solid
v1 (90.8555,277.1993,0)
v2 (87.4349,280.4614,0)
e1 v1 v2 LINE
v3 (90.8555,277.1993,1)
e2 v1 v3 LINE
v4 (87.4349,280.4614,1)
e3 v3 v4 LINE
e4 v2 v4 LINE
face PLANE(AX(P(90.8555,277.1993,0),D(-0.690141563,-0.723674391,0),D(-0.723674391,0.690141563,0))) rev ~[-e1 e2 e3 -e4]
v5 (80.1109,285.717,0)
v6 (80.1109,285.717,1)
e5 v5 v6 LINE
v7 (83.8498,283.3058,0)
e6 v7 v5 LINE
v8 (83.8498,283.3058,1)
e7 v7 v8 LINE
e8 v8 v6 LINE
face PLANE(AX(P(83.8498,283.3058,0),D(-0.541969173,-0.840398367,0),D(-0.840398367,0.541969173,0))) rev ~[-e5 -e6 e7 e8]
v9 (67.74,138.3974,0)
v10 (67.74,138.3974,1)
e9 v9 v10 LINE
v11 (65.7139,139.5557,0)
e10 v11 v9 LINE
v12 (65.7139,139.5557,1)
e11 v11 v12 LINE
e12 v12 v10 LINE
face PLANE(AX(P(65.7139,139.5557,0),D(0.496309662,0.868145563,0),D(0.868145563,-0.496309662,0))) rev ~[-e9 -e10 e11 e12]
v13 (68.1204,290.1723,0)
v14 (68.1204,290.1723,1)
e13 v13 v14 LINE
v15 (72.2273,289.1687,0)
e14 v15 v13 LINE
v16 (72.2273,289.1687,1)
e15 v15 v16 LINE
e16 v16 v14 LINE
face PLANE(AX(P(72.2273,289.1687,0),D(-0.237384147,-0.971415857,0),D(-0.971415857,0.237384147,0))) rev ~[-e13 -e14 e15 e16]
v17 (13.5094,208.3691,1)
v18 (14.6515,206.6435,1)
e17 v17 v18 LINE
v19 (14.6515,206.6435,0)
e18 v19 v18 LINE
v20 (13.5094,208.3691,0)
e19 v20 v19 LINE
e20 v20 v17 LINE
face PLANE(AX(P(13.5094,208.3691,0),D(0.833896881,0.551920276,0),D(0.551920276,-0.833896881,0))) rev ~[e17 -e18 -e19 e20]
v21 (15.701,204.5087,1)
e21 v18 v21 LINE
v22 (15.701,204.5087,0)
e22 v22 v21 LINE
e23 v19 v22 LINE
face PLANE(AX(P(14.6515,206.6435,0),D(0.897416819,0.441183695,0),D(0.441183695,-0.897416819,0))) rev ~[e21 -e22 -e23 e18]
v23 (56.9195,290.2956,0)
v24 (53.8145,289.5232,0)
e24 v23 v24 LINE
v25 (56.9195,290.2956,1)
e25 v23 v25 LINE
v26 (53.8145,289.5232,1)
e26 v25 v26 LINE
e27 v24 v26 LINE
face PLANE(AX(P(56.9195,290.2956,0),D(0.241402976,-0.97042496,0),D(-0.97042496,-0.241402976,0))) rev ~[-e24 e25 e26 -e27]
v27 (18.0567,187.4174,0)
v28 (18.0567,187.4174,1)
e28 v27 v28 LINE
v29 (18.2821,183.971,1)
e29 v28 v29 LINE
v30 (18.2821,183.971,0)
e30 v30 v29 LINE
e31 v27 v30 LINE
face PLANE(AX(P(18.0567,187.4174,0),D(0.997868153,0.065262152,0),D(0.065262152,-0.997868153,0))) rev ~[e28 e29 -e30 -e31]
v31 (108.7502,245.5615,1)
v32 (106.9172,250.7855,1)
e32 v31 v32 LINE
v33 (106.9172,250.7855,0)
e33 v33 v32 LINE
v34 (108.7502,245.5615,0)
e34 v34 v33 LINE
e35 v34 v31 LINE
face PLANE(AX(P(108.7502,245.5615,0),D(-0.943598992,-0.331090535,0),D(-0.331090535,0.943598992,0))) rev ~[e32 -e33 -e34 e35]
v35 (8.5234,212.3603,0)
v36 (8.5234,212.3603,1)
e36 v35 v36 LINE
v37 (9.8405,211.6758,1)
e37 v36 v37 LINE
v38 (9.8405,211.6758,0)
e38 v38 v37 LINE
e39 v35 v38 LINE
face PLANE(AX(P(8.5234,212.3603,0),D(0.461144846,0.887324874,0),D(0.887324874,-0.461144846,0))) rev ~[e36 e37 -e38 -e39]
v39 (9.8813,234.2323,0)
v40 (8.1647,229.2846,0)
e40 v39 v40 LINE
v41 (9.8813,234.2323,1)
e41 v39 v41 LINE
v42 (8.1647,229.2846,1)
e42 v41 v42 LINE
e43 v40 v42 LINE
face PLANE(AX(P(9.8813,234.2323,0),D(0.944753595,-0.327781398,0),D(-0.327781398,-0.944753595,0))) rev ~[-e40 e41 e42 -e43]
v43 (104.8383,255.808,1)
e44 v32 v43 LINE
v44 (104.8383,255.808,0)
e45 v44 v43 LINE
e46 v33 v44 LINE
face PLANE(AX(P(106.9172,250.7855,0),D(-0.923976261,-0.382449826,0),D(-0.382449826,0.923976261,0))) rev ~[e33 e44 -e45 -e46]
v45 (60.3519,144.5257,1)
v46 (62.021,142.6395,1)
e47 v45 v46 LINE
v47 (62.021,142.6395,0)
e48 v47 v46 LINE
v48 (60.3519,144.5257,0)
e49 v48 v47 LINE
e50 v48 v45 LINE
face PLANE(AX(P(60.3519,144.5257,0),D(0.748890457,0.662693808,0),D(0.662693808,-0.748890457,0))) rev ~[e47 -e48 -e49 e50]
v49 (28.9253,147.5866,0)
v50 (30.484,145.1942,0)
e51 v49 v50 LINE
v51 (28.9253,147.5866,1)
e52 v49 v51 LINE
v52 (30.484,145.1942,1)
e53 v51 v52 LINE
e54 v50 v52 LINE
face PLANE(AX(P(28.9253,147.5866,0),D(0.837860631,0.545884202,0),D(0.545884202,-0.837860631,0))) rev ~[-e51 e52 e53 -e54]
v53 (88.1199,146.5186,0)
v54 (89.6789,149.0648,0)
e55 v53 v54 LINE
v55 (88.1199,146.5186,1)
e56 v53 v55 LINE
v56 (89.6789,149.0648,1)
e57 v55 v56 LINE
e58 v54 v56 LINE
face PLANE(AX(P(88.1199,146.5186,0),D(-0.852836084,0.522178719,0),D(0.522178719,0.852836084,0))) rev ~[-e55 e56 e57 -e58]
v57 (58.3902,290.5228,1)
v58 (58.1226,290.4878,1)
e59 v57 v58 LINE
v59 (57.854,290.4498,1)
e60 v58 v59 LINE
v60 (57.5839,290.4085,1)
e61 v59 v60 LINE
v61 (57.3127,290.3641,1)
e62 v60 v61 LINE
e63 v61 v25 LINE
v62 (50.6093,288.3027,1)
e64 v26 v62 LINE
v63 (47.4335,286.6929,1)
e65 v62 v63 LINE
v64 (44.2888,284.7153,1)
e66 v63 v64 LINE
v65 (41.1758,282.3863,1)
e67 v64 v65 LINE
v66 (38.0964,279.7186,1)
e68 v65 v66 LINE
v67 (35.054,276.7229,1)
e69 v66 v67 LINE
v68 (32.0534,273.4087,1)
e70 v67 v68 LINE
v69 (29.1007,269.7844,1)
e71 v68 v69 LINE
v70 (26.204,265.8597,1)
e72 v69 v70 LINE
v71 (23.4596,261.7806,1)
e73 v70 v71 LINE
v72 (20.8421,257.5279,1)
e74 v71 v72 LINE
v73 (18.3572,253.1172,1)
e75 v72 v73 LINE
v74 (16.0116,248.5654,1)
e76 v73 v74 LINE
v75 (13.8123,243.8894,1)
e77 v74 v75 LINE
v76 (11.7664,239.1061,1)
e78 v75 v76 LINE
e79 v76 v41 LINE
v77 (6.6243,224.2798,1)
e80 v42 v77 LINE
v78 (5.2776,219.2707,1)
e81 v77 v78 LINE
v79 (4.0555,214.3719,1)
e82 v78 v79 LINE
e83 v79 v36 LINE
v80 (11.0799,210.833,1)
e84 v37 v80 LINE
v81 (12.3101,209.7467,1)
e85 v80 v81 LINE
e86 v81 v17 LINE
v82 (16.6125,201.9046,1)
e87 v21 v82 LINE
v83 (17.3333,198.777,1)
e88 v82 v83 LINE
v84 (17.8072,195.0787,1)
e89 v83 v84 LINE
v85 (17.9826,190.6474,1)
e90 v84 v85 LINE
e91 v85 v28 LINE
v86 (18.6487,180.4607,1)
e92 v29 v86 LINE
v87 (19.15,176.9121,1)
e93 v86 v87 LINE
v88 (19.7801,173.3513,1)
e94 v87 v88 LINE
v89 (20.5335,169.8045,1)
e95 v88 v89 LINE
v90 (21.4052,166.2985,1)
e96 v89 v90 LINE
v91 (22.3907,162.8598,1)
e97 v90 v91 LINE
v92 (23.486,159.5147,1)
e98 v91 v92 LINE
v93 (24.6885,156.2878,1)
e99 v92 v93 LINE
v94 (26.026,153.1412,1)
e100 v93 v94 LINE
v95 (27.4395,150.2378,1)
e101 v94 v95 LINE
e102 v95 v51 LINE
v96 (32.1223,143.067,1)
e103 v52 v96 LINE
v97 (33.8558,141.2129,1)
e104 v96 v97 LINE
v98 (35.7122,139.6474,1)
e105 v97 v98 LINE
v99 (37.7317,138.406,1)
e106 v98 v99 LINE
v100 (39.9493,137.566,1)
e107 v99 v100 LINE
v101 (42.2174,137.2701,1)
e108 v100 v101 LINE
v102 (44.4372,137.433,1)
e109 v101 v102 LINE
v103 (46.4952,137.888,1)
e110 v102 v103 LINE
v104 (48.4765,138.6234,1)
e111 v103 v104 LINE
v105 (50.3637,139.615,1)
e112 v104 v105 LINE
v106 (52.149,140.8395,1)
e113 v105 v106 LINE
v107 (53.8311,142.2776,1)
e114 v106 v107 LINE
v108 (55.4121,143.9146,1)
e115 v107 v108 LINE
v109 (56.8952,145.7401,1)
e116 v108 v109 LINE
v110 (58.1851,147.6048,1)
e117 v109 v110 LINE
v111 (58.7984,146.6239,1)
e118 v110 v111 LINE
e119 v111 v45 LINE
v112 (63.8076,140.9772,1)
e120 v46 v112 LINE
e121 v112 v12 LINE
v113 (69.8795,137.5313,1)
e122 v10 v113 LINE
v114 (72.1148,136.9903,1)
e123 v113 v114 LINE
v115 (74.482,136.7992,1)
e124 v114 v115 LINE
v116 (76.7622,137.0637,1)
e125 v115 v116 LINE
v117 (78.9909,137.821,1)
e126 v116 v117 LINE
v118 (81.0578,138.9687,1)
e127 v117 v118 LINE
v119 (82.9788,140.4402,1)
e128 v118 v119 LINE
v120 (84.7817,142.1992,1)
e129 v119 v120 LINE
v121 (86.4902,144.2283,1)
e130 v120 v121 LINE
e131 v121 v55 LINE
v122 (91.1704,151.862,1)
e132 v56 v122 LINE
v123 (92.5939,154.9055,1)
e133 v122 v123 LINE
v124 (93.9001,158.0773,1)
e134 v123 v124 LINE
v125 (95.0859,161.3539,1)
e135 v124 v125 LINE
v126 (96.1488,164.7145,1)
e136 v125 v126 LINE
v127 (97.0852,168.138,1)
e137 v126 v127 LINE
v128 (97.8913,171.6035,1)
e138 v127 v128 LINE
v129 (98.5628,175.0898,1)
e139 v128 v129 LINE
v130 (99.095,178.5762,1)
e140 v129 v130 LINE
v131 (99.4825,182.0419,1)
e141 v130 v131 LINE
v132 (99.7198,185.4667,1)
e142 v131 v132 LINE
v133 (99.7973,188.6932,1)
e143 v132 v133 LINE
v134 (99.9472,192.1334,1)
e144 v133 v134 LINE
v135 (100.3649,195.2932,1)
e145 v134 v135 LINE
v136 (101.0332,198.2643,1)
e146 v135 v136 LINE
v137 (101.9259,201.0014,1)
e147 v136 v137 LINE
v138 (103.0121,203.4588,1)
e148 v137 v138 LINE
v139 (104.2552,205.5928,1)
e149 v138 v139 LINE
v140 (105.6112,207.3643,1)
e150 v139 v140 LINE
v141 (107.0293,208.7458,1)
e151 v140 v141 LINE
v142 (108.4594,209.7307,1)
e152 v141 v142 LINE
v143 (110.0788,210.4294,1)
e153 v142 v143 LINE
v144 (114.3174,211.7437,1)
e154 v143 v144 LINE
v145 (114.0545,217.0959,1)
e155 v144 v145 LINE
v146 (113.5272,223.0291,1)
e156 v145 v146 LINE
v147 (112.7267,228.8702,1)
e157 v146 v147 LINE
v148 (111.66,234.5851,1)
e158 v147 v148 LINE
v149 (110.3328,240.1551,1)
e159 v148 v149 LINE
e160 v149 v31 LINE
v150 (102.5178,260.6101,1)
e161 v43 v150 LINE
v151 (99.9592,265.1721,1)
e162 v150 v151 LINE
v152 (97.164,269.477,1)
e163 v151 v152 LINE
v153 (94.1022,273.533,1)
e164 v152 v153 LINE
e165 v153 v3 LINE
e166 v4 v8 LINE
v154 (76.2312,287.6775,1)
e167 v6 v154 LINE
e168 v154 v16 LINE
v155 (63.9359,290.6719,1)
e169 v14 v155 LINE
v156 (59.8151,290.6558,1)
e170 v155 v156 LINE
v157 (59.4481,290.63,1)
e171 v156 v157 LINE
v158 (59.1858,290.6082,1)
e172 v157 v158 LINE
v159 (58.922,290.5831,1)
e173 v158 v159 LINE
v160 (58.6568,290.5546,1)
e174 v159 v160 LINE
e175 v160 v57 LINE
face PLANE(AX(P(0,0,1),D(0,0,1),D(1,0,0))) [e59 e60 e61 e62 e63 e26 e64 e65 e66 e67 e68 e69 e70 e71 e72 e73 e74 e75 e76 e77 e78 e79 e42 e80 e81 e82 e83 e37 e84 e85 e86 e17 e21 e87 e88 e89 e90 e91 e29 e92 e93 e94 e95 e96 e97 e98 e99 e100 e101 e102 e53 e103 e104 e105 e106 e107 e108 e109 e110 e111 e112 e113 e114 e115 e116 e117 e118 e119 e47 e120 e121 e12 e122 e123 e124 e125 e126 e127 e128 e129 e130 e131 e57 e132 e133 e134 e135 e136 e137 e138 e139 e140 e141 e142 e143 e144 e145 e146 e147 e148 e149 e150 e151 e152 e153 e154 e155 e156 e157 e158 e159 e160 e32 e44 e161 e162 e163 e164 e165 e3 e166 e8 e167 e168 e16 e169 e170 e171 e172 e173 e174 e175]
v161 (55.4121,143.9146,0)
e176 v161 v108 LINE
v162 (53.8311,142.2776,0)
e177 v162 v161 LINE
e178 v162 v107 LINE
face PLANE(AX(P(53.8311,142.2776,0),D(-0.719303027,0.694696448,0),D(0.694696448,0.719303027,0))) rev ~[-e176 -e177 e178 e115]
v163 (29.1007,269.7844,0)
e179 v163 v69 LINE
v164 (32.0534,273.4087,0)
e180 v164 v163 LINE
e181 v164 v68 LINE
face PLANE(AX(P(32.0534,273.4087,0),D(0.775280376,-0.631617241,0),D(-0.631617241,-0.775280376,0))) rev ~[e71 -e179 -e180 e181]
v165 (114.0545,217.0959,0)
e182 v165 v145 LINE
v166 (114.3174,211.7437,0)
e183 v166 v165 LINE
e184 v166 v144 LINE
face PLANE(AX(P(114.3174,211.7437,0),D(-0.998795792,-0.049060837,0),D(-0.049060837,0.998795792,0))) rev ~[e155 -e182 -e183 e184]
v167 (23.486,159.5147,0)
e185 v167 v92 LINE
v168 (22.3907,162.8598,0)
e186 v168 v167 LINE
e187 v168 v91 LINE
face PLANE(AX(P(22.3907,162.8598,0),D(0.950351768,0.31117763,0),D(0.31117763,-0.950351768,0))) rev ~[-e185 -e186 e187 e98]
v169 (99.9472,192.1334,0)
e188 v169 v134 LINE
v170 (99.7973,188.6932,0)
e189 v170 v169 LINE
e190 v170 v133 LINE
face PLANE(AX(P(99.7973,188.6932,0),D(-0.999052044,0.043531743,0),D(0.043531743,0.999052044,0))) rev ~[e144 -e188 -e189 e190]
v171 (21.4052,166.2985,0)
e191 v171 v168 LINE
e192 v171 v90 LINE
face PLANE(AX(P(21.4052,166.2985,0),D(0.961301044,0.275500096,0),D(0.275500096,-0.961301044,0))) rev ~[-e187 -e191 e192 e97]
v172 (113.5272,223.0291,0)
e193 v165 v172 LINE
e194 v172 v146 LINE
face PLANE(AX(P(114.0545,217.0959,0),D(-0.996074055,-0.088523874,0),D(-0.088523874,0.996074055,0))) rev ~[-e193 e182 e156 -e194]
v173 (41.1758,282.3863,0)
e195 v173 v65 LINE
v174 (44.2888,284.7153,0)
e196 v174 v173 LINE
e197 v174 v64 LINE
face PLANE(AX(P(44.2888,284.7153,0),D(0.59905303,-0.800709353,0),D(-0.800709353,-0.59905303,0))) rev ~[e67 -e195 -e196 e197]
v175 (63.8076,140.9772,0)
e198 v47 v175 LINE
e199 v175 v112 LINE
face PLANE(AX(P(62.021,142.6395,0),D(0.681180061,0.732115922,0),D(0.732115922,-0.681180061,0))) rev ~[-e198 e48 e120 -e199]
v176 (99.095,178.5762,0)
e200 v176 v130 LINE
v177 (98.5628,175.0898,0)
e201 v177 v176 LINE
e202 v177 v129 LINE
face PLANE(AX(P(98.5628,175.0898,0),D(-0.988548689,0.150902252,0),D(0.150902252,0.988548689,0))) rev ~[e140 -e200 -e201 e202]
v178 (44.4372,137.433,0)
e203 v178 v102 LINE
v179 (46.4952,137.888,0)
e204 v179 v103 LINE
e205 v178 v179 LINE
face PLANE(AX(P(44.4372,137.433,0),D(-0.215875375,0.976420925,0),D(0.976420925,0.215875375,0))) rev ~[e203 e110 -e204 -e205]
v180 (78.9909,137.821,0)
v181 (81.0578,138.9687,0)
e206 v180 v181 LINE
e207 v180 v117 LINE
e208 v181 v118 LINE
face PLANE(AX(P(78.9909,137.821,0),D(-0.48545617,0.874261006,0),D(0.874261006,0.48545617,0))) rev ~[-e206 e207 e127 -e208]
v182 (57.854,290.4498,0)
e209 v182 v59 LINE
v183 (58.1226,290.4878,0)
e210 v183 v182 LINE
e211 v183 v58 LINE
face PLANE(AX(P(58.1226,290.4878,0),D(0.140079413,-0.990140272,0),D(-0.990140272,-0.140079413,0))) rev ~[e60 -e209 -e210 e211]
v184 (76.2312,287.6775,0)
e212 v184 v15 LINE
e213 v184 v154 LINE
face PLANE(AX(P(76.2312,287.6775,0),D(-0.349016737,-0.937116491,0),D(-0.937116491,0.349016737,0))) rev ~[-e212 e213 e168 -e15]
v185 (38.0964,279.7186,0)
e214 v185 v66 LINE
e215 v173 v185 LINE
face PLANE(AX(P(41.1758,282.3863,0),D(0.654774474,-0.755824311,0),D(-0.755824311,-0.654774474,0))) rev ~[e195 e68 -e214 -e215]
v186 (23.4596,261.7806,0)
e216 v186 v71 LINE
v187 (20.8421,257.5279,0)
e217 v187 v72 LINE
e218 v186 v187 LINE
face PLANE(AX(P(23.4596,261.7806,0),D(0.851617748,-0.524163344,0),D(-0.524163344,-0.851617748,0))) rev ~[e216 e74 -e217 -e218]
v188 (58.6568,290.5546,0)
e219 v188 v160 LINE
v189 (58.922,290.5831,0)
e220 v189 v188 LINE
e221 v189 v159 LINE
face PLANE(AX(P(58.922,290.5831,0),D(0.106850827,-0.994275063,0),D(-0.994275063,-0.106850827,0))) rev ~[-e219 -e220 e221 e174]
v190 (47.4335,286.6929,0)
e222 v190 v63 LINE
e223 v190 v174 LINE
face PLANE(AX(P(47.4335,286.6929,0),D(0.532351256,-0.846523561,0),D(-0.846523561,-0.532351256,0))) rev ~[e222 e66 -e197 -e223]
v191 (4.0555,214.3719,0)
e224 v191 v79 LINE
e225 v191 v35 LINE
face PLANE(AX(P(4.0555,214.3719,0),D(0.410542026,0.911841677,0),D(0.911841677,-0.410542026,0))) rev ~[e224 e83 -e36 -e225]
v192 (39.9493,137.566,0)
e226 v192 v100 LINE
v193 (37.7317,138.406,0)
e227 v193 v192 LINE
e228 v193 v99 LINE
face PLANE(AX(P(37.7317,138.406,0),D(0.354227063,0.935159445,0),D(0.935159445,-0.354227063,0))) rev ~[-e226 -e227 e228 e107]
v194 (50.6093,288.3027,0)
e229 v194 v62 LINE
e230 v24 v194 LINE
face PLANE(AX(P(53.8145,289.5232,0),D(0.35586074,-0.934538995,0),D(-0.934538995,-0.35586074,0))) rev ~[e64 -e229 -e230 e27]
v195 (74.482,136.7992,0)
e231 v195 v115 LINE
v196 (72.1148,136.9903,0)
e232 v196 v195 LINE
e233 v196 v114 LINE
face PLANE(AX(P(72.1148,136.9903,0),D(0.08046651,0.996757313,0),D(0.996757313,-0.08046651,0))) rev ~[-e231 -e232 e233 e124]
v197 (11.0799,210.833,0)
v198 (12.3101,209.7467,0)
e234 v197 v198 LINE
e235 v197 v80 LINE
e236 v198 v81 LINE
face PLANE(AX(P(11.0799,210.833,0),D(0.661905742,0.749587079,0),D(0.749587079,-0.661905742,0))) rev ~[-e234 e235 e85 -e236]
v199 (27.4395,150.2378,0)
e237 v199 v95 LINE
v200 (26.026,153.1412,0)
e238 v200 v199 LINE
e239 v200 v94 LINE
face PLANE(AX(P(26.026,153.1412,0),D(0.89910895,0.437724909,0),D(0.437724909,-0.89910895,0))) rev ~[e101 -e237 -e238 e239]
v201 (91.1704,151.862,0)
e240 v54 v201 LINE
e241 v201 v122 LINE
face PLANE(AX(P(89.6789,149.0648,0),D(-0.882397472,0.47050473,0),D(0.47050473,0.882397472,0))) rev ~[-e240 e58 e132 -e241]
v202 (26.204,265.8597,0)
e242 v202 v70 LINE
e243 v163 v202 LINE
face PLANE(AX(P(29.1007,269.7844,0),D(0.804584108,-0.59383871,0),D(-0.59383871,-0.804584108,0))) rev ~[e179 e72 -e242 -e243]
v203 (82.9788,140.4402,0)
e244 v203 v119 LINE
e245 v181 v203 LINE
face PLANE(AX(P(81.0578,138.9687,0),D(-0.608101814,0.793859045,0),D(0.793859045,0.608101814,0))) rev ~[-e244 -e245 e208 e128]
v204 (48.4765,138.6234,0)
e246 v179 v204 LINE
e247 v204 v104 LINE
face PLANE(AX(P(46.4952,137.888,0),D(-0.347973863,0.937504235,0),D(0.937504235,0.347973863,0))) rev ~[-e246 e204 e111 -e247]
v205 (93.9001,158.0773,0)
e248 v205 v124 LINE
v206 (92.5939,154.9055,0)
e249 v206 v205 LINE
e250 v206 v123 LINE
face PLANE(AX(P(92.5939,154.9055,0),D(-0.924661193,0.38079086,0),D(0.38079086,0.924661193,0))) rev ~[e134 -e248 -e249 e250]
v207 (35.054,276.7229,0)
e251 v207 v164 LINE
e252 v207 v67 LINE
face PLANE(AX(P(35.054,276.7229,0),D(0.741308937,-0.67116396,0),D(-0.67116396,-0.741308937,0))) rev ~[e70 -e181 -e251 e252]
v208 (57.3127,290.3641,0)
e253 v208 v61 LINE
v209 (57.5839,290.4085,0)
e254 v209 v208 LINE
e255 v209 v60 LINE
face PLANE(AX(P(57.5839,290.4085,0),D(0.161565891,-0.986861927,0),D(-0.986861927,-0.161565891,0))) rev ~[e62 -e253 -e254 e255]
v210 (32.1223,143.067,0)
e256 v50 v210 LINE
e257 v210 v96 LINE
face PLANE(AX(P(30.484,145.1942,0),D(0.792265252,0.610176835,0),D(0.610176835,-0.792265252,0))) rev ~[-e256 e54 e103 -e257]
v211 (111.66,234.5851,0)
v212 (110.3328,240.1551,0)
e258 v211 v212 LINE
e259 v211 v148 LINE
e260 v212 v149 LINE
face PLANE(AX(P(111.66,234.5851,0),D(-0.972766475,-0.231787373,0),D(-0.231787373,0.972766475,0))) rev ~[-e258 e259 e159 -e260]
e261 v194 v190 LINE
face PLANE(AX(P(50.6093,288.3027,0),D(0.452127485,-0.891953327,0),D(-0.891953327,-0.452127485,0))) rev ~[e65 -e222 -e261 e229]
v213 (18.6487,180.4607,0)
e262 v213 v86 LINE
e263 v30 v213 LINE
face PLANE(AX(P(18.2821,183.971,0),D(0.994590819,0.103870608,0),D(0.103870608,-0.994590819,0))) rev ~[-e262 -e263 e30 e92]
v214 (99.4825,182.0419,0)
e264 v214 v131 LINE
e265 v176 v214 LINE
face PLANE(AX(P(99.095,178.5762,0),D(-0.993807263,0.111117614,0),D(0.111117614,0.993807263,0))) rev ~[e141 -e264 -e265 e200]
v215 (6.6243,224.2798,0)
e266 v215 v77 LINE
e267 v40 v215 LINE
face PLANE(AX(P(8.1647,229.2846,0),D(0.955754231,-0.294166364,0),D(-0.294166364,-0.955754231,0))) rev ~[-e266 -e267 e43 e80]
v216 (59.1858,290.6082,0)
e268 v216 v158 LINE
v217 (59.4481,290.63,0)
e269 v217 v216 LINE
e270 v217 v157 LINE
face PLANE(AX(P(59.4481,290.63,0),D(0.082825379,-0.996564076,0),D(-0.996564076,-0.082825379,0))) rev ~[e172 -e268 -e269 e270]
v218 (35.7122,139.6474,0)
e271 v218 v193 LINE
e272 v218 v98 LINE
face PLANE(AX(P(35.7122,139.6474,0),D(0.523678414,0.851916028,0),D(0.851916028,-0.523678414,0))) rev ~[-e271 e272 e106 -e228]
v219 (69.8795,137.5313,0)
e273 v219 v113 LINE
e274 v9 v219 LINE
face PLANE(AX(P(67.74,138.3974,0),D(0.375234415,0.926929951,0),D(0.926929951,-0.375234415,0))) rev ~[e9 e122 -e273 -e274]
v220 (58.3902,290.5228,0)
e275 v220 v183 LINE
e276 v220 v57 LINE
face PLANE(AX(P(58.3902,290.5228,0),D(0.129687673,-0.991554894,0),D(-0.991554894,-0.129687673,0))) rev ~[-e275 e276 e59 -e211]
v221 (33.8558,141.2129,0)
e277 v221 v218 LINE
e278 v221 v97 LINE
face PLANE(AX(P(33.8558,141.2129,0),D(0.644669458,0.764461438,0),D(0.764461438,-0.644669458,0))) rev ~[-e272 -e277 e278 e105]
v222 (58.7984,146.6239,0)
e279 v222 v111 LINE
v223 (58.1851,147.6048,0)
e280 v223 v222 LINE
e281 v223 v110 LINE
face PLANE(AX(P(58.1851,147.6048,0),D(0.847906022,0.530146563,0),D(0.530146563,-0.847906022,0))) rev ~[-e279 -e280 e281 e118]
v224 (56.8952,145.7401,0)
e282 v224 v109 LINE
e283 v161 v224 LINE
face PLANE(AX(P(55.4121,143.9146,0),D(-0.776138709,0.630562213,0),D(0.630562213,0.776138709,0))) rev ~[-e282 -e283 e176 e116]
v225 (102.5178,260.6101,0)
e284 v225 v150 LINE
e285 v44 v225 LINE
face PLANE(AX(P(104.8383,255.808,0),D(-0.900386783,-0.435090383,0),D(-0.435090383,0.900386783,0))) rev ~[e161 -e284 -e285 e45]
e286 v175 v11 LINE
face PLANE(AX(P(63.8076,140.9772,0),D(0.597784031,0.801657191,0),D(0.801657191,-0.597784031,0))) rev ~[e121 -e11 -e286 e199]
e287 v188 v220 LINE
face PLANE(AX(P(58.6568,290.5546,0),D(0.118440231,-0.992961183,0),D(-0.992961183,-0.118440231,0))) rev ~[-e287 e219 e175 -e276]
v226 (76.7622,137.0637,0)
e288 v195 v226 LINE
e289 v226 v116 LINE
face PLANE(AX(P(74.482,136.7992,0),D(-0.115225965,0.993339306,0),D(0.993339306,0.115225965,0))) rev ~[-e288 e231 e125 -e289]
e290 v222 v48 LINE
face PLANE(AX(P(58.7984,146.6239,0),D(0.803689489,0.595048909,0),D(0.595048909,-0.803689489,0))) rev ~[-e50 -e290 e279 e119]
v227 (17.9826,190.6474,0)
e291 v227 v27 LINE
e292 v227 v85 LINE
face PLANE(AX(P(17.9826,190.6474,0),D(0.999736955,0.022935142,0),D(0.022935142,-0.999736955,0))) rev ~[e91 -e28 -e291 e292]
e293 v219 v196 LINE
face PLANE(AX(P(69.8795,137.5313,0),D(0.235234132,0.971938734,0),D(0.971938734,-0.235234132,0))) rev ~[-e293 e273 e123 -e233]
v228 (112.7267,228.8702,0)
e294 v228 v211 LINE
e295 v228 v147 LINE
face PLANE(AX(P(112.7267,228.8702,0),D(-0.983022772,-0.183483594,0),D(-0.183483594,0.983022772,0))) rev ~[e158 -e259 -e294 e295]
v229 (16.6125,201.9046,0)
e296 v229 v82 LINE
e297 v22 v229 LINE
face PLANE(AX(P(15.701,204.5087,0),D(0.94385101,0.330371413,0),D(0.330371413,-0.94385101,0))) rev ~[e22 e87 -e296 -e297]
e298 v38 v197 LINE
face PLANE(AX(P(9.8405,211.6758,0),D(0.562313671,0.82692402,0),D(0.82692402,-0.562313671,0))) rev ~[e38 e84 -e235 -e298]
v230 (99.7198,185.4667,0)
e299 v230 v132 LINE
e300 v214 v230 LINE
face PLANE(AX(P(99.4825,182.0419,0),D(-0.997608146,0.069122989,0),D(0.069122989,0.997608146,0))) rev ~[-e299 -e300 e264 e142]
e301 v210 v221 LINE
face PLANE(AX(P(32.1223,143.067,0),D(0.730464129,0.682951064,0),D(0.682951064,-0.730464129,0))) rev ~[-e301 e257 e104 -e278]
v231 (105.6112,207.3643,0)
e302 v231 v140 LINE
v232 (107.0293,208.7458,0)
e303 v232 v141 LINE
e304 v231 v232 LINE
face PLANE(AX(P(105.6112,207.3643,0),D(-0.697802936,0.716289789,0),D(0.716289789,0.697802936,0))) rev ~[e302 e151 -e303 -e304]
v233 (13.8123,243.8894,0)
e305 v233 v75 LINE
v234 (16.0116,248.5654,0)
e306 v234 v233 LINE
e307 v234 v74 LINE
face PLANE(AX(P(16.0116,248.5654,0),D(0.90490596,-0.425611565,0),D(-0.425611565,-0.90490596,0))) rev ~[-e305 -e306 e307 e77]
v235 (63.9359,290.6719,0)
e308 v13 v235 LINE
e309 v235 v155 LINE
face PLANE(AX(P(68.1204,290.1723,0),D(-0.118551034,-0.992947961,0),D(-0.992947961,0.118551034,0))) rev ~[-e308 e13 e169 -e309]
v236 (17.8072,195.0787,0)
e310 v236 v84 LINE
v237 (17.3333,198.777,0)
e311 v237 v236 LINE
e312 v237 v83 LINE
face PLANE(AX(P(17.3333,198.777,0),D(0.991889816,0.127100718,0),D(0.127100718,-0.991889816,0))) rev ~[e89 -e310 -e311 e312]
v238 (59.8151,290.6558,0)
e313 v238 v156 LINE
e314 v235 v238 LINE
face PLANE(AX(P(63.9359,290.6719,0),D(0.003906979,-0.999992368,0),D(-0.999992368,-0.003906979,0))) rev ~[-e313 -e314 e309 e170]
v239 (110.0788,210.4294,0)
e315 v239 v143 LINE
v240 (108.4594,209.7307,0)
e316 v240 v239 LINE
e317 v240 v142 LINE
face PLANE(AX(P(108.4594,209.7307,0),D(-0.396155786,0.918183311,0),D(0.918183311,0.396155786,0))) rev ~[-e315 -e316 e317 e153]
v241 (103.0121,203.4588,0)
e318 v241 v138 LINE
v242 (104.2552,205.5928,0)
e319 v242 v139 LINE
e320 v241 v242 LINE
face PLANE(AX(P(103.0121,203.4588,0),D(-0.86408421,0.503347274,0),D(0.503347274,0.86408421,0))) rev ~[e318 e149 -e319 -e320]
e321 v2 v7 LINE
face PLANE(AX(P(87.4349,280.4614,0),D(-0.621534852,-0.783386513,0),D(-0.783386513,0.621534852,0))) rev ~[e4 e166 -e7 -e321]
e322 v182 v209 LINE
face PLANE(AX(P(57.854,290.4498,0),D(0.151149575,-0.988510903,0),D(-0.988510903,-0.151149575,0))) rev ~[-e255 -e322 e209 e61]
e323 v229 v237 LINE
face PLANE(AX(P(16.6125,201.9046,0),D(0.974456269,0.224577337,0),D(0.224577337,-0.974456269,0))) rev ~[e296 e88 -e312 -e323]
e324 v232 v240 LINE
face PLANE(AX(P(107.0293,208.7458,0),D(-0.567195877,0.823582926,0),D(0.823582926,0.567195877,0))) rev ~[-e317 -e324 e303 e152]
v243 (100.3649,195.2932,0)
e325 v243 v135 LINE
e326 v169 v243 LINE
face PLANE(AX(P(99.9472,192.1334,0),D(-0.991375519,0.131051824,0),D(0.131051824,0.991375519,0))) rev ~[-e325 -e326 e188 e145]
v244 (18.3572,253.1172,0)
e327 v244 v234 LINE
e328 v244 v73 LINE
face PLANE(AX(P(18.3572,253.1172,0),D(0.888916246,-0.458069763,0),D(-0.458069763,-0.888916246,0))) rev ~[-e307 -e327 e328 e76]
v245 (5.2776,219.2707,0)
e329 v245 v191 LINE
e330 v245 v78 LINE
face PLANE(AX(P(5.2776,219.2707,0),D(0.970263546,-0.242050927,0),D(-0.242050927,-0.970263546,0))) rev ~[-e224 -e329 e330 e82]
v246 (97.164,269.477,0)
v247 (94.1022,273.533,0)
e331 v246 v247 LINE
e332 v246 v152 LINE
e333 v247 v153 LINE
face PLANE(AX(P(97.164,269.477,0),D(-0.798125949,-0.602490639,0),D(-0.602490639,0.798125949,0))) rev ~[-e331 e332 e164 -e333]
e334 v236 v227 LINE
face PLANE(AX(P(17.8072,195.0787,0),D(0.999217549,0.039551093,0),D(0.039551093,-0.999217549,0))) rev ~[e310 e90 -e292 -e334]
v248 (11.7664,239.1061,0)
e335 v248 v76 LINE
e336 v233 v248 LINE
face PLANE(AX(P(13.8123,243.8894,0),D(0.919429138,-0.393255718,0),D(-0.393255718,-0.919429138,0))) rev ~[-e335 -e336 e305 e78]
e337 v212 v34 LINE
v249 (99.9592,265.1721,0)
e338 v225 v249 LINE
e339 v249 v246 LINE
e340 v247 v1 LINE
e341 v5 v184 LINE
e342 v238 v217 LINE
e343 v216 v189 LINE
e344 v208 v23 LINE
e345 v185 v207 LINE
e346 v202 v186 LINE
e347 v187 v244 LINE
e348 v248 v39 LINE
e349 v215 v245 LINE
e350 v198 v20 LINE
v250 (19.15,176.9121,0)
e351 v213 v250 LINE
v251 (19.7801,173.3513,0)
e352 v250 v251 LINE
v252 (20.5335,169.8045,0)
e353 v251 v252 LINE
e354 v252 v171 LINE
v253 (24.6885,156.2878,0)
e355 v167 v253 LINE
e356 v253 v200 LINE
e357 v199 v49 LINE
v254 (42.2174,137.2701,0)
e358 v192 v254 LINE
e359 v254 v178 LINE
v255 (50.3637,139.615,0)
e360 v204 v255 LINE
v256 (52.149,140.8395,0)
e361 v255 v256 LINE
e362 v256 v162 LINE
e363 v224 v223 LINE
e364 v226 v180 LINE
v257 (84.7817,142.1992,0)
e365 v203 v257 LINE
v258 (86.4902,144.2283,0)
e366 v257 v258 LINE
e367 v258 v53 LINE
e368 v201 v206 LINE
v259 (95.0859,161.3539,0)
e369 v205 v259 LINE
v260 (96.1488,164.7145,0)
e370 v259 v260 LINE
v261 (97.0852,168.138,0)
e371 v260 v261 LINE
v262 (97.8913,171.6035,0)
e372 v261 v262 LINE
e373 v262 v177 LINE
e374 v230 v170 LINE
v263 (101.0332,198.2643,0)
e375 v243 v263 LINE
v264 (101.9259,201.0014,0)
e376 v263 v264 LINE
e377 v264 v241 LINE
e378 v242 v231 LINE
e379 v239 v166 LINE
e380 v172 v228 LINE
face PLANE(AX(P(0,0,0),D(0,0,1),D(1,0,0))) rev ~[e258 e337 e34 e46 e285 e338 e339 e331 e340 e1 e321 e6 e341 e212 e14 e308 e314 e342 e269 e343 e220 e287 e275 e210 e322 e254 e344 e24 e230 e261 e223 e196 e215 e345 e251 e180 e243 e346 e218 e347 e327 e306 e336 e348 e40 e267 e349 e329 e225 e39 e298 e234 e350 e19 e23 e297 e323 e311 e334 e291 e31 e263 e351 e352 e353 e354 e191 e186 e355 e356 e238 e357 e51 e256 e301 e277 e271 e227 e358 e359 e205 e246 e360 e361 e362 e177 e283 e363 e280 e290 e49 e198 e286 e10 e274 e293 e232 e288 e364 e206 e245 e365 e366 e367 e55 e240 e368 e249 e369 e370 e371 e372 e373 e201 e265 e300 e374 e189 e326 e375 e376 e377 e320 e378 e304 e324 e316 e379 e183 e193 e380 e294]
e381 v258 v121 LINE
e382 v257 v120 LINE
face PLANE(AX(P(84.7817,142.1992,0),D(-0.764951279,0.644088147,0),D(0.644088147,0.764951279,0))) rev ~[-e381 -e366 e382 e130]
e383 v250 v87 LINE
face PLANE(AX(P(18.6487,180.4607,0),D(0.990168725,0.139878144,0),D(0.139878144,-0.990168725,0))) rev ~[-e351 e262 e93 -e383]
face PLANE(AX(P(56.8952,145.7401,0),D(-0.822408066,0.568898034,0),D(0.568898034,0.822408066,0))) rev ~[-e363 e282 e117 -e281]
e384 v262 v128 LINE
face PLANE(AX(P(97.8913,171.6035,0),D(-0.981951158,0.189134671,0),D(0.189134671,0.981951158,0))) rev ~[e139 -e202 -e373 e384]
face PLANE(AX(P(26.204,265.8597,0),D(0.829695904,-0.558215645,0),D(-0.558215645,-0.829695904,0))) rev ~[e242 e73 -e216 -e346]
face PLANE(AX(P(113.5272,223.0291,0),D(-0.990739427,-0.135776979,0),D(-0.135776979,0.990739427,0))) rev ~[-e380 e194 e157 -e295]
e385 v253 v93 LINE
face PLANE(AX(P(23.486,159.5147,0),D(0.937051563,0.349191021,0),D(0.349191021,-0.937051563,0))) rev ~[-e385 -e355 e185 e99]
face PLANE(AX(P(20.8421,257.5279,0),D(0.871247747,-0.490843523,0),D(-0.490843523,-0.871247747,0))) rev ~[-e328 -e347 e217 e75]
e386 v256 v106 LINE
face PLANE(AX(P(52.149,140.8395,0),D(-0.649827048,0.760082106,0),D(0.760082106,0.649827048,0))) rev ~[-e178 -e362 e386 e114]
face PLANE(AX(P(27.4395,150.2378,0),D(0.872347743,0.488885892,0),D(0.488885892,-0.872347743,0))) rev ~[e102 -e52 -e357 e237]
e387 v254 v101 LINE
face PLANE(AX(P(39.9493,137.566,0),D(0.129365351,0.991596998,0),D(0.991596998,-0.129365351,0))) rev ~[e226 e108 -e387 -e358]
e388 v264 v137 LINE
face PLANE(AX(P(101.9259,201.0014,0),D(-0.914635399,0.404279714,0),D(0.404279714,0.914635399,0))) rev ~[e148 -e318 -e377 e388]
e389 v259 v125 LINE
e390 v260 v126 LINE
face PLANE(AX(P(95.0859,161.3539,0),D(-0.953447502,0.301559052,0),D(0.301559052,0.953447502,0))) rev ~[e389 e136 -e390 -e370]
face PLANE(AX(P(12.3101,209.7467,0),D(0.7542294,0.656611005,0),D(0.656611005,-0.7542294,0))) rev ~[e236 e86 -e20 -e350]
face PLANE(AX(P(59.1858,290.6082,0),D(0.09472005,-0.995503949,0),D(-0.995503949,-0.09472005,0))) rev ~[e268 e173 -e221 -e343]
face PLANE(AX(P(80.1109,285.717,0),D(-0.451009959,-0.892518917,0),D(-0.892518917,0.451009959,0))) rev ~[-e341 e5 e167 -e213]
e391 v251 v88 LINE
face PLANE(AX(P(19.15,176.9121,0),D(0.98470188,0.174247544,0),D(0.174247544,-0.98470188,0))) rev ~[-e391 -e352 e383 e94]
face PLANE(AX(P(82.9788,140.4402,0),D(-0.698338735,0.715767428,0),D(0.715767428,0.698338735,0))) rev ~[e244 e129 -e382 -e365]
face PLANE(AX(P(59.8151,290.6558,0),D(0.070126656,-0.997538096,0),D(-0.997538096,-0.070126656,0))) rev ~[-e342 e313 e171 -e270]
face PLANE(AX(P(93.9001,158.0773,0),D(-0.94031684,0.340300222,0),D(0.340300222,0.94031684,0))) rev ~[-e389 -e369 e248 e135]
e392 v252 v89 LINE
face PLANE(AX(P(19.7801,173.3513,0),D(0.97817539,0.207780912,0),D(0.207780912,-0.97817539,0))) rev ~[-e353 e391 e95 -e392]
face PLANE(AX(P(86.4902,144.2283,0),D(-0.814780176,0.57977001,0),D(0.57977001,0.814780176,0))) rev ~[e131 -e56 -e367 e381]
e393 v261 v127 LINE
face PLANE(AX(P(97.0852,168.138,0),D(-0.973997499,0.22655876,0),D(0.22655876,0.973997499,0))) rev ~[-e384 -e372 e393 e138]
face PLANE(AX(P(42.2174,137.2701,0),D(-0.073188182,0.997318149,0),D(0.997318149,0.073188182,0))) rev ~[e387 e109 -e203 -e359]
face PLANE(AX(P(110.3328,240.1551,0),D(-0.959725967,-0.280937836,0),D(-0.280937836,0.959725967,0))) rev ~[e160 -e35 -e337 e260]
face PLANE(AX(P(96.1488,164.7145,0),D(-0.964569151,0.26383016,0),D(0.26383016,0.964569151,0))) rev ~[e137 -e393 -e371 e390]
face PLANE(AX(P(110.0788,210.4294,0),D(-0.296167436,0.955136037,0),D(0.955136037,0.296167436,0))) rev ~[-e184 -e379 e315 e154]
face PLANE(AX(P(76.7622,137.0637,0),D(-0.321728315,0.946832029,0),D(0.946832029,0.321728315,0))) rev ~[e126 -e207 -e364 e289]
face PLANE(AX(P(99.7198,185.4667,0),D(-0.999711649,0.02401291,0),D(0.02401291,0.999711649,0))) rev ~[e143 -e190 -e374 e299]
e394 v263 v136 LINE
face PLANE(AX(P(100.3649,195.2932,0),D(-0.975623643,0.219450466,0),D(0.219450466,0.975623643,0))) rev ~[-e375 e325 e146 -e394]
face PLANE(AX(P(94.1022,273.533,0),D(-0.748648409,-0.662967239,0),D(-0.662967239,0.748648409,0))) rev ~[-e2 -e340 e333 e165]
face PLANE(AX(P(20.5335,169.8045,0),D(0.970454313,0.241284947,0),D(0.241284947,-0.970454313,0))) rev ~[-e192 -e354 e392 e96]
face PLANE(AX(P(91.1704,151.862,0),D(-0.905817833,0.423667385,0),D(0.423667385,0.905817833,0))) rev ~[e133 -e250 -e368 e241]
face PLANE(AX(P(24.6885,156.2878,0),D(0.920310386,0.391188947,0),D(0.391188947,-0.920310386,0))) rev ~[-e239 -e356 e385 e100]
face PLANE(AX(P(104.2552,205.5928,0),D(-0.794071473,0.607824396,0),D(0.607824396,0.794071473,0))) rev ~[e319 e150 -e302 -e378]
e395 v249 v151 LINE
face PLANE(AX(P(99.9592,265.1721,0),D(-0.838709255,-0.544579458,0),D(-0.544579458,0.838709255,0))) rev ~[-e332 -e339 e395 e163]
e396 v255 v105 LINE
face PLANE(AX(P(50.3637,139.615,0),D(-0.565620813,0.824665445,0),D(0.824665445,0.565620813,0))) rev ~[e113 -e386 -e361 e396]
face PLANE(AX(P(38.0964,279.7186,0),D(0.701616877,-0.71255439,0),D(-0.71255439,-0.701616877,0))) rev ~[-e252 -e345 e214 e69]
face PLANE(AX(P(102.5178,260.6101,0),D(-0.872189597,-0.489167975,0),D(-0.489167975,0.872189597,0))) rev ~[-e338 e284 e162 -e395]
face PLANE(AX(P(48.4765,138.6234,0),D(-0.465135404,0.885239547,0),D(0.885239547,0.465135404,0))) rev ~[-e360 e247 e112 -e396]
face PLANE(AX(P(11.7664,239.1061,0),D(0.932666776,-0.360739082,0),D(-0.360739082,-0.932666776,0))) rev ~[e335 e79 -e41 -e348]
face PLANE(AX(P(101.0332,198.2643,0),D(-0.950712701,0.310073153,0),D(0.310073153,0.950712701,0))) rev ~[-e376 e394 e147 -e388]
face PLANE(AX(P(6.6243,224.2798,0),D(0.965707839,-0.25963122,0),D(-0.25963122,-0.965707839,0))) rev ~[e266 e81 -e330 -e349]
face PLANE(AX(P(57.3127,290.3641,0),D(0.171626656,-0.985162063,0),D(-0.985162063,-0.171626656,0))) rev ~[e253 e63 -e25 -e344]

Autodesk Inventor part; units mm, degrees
ref_plane "YZ Plane" through (0, 0, 0) normal (1, 0, 0) x (0, 1, 0)
ref_plane "XZ Plane" through (0, 0, 0) normal (0, 1, 0) x (-1, 0, 0)
ref_plane "XY Plane" through (0, 0, 0) normal (0, 0, 1) x (1, 0, 0)
sketch "スケッチ1" plane through (0, 0, 0) normal (0, 0, 1) x (1, 0, 0)
  line L0 (92.5939, 154.9055) -> (93.9001, 158.0773)
  line L1 (93.9001, 158.0773) -> (95.0859, 161.3539)
  line L2 (95.0859, 161.3539) -> (96.1488, 164.7145)
  line L3 (96.1488, 164.7145) -> (97.0852, 168.138)
  line L4 (97.0852, 168.138) -> (97.8913, 171.6035)
  line L5 (97.8913, 171.6035) -> (98.5628, 175.0898)
  line L6 (98.5628, 175.0898) -> (99.095, 178.5762)
  line L7 (99.095, 178.5762) -> (99.4825, 182.0419)
  line L8 (99.4825, 182.0419) -> (99.7198, 185.4667)
  line L9 (99.7198, 185.4667) -> (99.7973, 188.6932)
  line L10 (99.7973, 188.6932) -> (99.9472, 192.1334)
  line L11 (99.9472, 192.1334) -> (100.3649, 195.2932)
  line L12 (100.3649, 195.2932) -> (101.0332, 198.2643)
  line L13 (101.0332, 198.2643) -> (101.9259, 201.0014)
  line L14 (101.9259, 201.0014) -> (103.0121, 203.4588)
  line L15 (103.0121, 203.4588) -> (104.2552, 205.5928)
  line L16 (104.2552, 205.5928) -> (105.6112, 207.3643)
  line L17 (105.6112, 207.3643) -> (107.0293, 208.7458)
  line L18 (107.0293, 208.7458) -> (108.4594, 209.7307)
  line L19 (108.4594, 209.7307) -> (110.0788, 210.4294)
  line L20 (110.0788, 210.4294) -> (114.3174, 211.7437)
  line L21 (114.3174, 211.7437) -> (114.0545, 217.0959)
  line L22 (114.0545, 217.0959) -> (113.5272, 223.0291)
  line L23 (113.5272, 223.0291) -> (112.7267, 228.8702)
  line L24 (112.7267, 228.8702) -> (111.66, 234.5851)
  line L25 (111.66, 234.5851) -> (110.3328, 240.1551)
  line L26 (110.3328, 240.1551) -> (108.7502, 245.5615)
  line L27 (108.7502, 245.5615) -> (106.9172, 250.7855)
  line L28 (106.9172, 250.7855) -> (104.8383, 255.808)
  line L29 (104.8383, 255.808) -> (102.5178, 260.6101)
  line L30 (102.5178, 260.6101) -> (99.9592, 265.1721)
  line L31 (99.9592, 265.1721) -> (97.164, 269.477)
  line L32 (97.164, 269.477) -> (94.1022, 273.533)
  line L33 (94.1022, 273.533) -> (90.8555, 277.1993)
  line L34 (90.8555, 277.1993) -> (87.4349, 280.4614)
  line L35 (87.4349, 280.4614) -> (83.8498, 283.3058)
  line L36 (83.8498, 283.3058) -> (80.1109, 285.717)
  line L37 (80.1109, 285.717) -> (76.2312, 287.6775)
  line L38 (76.2312, 287.6775) -> (72.2273, 289.1687)
  line L39 (72.2273, 289.1687) -> (68.1204, 290.1723)
  line L40 (68.1204, 290.1723) -> (63.9359, 290.6719)
  line L41 (63.9359, 290.6719) -> (59.8151, 290.6558)
  line L42 (59.8151, 290.6558) -> (59.4481, 290.63)
  line L43 (59.4481, 290.63) -> (59.1858, 290.6082)
  line L44 (59.1858, 290.6082) -> (58.922, 290.5831)
  line L45 (58.922, 290.5831) -> (58.6568, 290.5546)
  line L46 (58.6568, 290.5546) -> (58.3902, 290.5228)
  line L47 (58.3902, 290.5228) -> (58.1226, 290.4878)
  line L48 (58.1226, 290.4878) -> (57.854, 290.4498)
  line L49 (57.854, 290.4498) -> (57.5839, 290.4085)
  line L50 (57.5839, 290.4085) -> (57.3127, 290.3641)
  line L51 (57.3127, 290.3641) -> (56.9195, 290.2956)
  line L52 (56.9195, 290.2956) -> (53.8145, 289.5232)
  line L53 (53.8145, 289.5232) -> (50.6093, 288.3027)
  line L54 (50.6093, 288.3027) -> (47.4335, 286.6929)
  line L55 (47.4335, 286.6929) -> (44.2888, 284.7153)
  line L56 (44.2888, 284.7153) -> (41.1758, 282.3863)
  line L57 (41.1758, 282.3863) -> (38.0964, 279.7186)
  line L58 (38.0964, 279.7186) -> (35.054, 276.7229)
  line L59 (35.054, 276.7229) -> (32.0534, 273.4087)
  line L60 (32.0534, 273.4087) -> (29.1007, 269.7844)
  line L61 (29.1007, 269.7844) -> (26.204, 265.8597)
  line L62 (26.204, 265.8597) -> (23.4596, 261.7806)
  line L63 (23.4596, 261.7806) -> (20.8421, 257.5279)
  line L64 (20.8421, 257.5279) -> (18.3572, 253.1172)
  line L65 (18.3572, 253.1172) -> (16.0116, 248.5654)
  line L66 (16.0116, 248.5654) -> (13.8123, 243.8894)
  line L67 (13.8123, 243.8894) -> (11.7664, 239.1061)
  line L68 (11.7664, 239.1061) -> (9.8813, 234.2323)
  line L69 (9.8813, 234.2323) -> (8.1647, 229.2846)
  line L70 (8.1647, 229.2846) -> (6.6243, 224.2798)
  line L71 (6.6243, 224.2798) -> (5.2776, 219.2707)
  line L72 (5.2776, 219.2707) -> (4.0555, 214.3719)
  line L73 (4.0555, 214.3719) -> (8.5234, 212.3603)
  line L74 (8.5234, 212.3603) -> (9.8405, 211.6758)
  line L75 (9.8405, 211.6758) -> (11.0799, 210.833)
  line L76 (11.0799, 210.833) -> (12.3101, 209.7467)
  line L77 (12.3101, 209.7467) -> (13.5094, 208.3691)
  line L78 (13.5094, 208.3691) -> (14.6515, 206.6435)
  line L79 (14.6515, 206.6435) -> (15.701, 204.5087)
  line L80 (15.701, 204.5087) -> (16.6125, 201.9046)
  line L81 (16.6125, 201.9046) -> (17.3333, 198.777)
  line L82 (17.3333, 198.777) -> (17.8072, 195.0787)
  line L83 (17.8072, 195.0787) -> (17.9826, 190.6474)
  line L84 (17.9826, 190.6474) -> (18.0567, 187.4174)
  line L85 (18.0567, 187.4174) -> (18.2821, 183.971)
  line L86 (18.2821, 183.971) -> (18.6487, 180.4607)
  line L87 (18.6487, 180.4607) -> (19.15, 176.9121)
  line L88 (19.15, 176.9121) -> (19.7801, 173.3513)
  line L89 (19.7801, 173.3513) -> (20.5335, 169.8045)
  line L90 (20.5335, 169.8045) -> (21.4052, 166.2985)
  line L91 (21.4052, 166.2985) -> (22.3907, 162.8598)
  line L92 (22.3907, 162.8598) -> (23.486, 159.5147)
  line L93 (23.486, 159.5147) -> (24.6885, 156.2878)
  line L94 (24.6885, 156.2878) -> (26.026, 153.1412)
  line L95 (26.026, 153.1412) -> (27.4395, 150.2378)
  line L96 (27.4395, 150.2378) -> (28.9253, 147.5866)
  line L97 (28.9253, 147.5866) -> (30.484, 145.1942)
  line L98 (30.484, 145.1942) -> (32.1223, 143.067)
  line L99 (32.1223, 143.067) -> (33.8558, 141.2129)
  line L100 (33.8558, 141.2129) -> (35.7122, 139.6474)
  line L101 (35.7122, 139.6474) -> (37.7317, 138.406)
  line L102 (37.7317, 138.406) -> (39.9493, 137.566)
  line L103 (39.9493, 137.566) -> (42.2174, 137.2701)
  line L104 (42.2174, 137.2701) -> (44.4372, 137.433)
  line L105 (44.4372, 137.433) -> (46.4952, 137.888)
  line L106 (46.4952, 137.888) -> (48.4765, 138.6234)
  line L107 (48.4765, 138.6234) -> (50.3637, 139.615)
  line L108 (50.3637, 139.615) -> (52.149, 140.8395)
  line L109 (52.149, 140.8395) -> (53.8311, 142.2776)
  line L110 (53.8311, 142.2776) -> (55.4121, 143.9146)
  line L111 (55.4121, 143.9146) -> (56.8952, 145.7401)
  line L112 (56.8952, 145.7401) -> (58.1851, 147.6048)
  line L113 (58.1851, 147.6048) -> (58.7984, 146.6239)
  line L114 (58.7984, 146.6239) -> (60.3519, 144.5257)
  line L115 (60.3519, 144.5257) -> (62.021, 142.6395)
  line L116 (62.021, 142.6395) -> (63.8076, 140.9772)
  line L117 (63.8076, 140.9772) -> (65.7139, 139.5557)
  line L118 (65.7139, 139.5557) -> (67.74, 138.3974)
  line L119 (67.74, 138.3974) -> (69.8795, 137.5313)
  line L120 (69.8795, 137.5313) -> (72.1148, 136.9903)
  line L121 (72.1148, 136.9903) -> (74.482, 136.7992)
  line L122 (74.482, 136.7992) -> (76.7622, 137.0637)
  line L123 (76.7622, 137.0637) -> (78.9909, 137.821)
  line L124 (78.9909, 137.821) -> (81.0578, 138.9687)
  line L125 (81.0578, 138.9687) -> (82.9788, 140.4402)
  line L126 (82.9788, 140.4402) -> (84.7817, 142.1992)
  line L127 (84.7817, 142.1992) -> (86.4902, 144.2283)
  line L128 (86.4902, 144.2283) -> (88.1199, 146.5186)
  line L129 (88.1199, 146.5186) -> (89.6789, 149.0648)
  line L130 (89.6789, 149.0648) -> (91.1704, 151.862)
  line L131 (91.1704, 151.862) -> (92.5939, 154.9055)
extrude "押し出し1" add sketch "スケッチ1" along normal blind 1
